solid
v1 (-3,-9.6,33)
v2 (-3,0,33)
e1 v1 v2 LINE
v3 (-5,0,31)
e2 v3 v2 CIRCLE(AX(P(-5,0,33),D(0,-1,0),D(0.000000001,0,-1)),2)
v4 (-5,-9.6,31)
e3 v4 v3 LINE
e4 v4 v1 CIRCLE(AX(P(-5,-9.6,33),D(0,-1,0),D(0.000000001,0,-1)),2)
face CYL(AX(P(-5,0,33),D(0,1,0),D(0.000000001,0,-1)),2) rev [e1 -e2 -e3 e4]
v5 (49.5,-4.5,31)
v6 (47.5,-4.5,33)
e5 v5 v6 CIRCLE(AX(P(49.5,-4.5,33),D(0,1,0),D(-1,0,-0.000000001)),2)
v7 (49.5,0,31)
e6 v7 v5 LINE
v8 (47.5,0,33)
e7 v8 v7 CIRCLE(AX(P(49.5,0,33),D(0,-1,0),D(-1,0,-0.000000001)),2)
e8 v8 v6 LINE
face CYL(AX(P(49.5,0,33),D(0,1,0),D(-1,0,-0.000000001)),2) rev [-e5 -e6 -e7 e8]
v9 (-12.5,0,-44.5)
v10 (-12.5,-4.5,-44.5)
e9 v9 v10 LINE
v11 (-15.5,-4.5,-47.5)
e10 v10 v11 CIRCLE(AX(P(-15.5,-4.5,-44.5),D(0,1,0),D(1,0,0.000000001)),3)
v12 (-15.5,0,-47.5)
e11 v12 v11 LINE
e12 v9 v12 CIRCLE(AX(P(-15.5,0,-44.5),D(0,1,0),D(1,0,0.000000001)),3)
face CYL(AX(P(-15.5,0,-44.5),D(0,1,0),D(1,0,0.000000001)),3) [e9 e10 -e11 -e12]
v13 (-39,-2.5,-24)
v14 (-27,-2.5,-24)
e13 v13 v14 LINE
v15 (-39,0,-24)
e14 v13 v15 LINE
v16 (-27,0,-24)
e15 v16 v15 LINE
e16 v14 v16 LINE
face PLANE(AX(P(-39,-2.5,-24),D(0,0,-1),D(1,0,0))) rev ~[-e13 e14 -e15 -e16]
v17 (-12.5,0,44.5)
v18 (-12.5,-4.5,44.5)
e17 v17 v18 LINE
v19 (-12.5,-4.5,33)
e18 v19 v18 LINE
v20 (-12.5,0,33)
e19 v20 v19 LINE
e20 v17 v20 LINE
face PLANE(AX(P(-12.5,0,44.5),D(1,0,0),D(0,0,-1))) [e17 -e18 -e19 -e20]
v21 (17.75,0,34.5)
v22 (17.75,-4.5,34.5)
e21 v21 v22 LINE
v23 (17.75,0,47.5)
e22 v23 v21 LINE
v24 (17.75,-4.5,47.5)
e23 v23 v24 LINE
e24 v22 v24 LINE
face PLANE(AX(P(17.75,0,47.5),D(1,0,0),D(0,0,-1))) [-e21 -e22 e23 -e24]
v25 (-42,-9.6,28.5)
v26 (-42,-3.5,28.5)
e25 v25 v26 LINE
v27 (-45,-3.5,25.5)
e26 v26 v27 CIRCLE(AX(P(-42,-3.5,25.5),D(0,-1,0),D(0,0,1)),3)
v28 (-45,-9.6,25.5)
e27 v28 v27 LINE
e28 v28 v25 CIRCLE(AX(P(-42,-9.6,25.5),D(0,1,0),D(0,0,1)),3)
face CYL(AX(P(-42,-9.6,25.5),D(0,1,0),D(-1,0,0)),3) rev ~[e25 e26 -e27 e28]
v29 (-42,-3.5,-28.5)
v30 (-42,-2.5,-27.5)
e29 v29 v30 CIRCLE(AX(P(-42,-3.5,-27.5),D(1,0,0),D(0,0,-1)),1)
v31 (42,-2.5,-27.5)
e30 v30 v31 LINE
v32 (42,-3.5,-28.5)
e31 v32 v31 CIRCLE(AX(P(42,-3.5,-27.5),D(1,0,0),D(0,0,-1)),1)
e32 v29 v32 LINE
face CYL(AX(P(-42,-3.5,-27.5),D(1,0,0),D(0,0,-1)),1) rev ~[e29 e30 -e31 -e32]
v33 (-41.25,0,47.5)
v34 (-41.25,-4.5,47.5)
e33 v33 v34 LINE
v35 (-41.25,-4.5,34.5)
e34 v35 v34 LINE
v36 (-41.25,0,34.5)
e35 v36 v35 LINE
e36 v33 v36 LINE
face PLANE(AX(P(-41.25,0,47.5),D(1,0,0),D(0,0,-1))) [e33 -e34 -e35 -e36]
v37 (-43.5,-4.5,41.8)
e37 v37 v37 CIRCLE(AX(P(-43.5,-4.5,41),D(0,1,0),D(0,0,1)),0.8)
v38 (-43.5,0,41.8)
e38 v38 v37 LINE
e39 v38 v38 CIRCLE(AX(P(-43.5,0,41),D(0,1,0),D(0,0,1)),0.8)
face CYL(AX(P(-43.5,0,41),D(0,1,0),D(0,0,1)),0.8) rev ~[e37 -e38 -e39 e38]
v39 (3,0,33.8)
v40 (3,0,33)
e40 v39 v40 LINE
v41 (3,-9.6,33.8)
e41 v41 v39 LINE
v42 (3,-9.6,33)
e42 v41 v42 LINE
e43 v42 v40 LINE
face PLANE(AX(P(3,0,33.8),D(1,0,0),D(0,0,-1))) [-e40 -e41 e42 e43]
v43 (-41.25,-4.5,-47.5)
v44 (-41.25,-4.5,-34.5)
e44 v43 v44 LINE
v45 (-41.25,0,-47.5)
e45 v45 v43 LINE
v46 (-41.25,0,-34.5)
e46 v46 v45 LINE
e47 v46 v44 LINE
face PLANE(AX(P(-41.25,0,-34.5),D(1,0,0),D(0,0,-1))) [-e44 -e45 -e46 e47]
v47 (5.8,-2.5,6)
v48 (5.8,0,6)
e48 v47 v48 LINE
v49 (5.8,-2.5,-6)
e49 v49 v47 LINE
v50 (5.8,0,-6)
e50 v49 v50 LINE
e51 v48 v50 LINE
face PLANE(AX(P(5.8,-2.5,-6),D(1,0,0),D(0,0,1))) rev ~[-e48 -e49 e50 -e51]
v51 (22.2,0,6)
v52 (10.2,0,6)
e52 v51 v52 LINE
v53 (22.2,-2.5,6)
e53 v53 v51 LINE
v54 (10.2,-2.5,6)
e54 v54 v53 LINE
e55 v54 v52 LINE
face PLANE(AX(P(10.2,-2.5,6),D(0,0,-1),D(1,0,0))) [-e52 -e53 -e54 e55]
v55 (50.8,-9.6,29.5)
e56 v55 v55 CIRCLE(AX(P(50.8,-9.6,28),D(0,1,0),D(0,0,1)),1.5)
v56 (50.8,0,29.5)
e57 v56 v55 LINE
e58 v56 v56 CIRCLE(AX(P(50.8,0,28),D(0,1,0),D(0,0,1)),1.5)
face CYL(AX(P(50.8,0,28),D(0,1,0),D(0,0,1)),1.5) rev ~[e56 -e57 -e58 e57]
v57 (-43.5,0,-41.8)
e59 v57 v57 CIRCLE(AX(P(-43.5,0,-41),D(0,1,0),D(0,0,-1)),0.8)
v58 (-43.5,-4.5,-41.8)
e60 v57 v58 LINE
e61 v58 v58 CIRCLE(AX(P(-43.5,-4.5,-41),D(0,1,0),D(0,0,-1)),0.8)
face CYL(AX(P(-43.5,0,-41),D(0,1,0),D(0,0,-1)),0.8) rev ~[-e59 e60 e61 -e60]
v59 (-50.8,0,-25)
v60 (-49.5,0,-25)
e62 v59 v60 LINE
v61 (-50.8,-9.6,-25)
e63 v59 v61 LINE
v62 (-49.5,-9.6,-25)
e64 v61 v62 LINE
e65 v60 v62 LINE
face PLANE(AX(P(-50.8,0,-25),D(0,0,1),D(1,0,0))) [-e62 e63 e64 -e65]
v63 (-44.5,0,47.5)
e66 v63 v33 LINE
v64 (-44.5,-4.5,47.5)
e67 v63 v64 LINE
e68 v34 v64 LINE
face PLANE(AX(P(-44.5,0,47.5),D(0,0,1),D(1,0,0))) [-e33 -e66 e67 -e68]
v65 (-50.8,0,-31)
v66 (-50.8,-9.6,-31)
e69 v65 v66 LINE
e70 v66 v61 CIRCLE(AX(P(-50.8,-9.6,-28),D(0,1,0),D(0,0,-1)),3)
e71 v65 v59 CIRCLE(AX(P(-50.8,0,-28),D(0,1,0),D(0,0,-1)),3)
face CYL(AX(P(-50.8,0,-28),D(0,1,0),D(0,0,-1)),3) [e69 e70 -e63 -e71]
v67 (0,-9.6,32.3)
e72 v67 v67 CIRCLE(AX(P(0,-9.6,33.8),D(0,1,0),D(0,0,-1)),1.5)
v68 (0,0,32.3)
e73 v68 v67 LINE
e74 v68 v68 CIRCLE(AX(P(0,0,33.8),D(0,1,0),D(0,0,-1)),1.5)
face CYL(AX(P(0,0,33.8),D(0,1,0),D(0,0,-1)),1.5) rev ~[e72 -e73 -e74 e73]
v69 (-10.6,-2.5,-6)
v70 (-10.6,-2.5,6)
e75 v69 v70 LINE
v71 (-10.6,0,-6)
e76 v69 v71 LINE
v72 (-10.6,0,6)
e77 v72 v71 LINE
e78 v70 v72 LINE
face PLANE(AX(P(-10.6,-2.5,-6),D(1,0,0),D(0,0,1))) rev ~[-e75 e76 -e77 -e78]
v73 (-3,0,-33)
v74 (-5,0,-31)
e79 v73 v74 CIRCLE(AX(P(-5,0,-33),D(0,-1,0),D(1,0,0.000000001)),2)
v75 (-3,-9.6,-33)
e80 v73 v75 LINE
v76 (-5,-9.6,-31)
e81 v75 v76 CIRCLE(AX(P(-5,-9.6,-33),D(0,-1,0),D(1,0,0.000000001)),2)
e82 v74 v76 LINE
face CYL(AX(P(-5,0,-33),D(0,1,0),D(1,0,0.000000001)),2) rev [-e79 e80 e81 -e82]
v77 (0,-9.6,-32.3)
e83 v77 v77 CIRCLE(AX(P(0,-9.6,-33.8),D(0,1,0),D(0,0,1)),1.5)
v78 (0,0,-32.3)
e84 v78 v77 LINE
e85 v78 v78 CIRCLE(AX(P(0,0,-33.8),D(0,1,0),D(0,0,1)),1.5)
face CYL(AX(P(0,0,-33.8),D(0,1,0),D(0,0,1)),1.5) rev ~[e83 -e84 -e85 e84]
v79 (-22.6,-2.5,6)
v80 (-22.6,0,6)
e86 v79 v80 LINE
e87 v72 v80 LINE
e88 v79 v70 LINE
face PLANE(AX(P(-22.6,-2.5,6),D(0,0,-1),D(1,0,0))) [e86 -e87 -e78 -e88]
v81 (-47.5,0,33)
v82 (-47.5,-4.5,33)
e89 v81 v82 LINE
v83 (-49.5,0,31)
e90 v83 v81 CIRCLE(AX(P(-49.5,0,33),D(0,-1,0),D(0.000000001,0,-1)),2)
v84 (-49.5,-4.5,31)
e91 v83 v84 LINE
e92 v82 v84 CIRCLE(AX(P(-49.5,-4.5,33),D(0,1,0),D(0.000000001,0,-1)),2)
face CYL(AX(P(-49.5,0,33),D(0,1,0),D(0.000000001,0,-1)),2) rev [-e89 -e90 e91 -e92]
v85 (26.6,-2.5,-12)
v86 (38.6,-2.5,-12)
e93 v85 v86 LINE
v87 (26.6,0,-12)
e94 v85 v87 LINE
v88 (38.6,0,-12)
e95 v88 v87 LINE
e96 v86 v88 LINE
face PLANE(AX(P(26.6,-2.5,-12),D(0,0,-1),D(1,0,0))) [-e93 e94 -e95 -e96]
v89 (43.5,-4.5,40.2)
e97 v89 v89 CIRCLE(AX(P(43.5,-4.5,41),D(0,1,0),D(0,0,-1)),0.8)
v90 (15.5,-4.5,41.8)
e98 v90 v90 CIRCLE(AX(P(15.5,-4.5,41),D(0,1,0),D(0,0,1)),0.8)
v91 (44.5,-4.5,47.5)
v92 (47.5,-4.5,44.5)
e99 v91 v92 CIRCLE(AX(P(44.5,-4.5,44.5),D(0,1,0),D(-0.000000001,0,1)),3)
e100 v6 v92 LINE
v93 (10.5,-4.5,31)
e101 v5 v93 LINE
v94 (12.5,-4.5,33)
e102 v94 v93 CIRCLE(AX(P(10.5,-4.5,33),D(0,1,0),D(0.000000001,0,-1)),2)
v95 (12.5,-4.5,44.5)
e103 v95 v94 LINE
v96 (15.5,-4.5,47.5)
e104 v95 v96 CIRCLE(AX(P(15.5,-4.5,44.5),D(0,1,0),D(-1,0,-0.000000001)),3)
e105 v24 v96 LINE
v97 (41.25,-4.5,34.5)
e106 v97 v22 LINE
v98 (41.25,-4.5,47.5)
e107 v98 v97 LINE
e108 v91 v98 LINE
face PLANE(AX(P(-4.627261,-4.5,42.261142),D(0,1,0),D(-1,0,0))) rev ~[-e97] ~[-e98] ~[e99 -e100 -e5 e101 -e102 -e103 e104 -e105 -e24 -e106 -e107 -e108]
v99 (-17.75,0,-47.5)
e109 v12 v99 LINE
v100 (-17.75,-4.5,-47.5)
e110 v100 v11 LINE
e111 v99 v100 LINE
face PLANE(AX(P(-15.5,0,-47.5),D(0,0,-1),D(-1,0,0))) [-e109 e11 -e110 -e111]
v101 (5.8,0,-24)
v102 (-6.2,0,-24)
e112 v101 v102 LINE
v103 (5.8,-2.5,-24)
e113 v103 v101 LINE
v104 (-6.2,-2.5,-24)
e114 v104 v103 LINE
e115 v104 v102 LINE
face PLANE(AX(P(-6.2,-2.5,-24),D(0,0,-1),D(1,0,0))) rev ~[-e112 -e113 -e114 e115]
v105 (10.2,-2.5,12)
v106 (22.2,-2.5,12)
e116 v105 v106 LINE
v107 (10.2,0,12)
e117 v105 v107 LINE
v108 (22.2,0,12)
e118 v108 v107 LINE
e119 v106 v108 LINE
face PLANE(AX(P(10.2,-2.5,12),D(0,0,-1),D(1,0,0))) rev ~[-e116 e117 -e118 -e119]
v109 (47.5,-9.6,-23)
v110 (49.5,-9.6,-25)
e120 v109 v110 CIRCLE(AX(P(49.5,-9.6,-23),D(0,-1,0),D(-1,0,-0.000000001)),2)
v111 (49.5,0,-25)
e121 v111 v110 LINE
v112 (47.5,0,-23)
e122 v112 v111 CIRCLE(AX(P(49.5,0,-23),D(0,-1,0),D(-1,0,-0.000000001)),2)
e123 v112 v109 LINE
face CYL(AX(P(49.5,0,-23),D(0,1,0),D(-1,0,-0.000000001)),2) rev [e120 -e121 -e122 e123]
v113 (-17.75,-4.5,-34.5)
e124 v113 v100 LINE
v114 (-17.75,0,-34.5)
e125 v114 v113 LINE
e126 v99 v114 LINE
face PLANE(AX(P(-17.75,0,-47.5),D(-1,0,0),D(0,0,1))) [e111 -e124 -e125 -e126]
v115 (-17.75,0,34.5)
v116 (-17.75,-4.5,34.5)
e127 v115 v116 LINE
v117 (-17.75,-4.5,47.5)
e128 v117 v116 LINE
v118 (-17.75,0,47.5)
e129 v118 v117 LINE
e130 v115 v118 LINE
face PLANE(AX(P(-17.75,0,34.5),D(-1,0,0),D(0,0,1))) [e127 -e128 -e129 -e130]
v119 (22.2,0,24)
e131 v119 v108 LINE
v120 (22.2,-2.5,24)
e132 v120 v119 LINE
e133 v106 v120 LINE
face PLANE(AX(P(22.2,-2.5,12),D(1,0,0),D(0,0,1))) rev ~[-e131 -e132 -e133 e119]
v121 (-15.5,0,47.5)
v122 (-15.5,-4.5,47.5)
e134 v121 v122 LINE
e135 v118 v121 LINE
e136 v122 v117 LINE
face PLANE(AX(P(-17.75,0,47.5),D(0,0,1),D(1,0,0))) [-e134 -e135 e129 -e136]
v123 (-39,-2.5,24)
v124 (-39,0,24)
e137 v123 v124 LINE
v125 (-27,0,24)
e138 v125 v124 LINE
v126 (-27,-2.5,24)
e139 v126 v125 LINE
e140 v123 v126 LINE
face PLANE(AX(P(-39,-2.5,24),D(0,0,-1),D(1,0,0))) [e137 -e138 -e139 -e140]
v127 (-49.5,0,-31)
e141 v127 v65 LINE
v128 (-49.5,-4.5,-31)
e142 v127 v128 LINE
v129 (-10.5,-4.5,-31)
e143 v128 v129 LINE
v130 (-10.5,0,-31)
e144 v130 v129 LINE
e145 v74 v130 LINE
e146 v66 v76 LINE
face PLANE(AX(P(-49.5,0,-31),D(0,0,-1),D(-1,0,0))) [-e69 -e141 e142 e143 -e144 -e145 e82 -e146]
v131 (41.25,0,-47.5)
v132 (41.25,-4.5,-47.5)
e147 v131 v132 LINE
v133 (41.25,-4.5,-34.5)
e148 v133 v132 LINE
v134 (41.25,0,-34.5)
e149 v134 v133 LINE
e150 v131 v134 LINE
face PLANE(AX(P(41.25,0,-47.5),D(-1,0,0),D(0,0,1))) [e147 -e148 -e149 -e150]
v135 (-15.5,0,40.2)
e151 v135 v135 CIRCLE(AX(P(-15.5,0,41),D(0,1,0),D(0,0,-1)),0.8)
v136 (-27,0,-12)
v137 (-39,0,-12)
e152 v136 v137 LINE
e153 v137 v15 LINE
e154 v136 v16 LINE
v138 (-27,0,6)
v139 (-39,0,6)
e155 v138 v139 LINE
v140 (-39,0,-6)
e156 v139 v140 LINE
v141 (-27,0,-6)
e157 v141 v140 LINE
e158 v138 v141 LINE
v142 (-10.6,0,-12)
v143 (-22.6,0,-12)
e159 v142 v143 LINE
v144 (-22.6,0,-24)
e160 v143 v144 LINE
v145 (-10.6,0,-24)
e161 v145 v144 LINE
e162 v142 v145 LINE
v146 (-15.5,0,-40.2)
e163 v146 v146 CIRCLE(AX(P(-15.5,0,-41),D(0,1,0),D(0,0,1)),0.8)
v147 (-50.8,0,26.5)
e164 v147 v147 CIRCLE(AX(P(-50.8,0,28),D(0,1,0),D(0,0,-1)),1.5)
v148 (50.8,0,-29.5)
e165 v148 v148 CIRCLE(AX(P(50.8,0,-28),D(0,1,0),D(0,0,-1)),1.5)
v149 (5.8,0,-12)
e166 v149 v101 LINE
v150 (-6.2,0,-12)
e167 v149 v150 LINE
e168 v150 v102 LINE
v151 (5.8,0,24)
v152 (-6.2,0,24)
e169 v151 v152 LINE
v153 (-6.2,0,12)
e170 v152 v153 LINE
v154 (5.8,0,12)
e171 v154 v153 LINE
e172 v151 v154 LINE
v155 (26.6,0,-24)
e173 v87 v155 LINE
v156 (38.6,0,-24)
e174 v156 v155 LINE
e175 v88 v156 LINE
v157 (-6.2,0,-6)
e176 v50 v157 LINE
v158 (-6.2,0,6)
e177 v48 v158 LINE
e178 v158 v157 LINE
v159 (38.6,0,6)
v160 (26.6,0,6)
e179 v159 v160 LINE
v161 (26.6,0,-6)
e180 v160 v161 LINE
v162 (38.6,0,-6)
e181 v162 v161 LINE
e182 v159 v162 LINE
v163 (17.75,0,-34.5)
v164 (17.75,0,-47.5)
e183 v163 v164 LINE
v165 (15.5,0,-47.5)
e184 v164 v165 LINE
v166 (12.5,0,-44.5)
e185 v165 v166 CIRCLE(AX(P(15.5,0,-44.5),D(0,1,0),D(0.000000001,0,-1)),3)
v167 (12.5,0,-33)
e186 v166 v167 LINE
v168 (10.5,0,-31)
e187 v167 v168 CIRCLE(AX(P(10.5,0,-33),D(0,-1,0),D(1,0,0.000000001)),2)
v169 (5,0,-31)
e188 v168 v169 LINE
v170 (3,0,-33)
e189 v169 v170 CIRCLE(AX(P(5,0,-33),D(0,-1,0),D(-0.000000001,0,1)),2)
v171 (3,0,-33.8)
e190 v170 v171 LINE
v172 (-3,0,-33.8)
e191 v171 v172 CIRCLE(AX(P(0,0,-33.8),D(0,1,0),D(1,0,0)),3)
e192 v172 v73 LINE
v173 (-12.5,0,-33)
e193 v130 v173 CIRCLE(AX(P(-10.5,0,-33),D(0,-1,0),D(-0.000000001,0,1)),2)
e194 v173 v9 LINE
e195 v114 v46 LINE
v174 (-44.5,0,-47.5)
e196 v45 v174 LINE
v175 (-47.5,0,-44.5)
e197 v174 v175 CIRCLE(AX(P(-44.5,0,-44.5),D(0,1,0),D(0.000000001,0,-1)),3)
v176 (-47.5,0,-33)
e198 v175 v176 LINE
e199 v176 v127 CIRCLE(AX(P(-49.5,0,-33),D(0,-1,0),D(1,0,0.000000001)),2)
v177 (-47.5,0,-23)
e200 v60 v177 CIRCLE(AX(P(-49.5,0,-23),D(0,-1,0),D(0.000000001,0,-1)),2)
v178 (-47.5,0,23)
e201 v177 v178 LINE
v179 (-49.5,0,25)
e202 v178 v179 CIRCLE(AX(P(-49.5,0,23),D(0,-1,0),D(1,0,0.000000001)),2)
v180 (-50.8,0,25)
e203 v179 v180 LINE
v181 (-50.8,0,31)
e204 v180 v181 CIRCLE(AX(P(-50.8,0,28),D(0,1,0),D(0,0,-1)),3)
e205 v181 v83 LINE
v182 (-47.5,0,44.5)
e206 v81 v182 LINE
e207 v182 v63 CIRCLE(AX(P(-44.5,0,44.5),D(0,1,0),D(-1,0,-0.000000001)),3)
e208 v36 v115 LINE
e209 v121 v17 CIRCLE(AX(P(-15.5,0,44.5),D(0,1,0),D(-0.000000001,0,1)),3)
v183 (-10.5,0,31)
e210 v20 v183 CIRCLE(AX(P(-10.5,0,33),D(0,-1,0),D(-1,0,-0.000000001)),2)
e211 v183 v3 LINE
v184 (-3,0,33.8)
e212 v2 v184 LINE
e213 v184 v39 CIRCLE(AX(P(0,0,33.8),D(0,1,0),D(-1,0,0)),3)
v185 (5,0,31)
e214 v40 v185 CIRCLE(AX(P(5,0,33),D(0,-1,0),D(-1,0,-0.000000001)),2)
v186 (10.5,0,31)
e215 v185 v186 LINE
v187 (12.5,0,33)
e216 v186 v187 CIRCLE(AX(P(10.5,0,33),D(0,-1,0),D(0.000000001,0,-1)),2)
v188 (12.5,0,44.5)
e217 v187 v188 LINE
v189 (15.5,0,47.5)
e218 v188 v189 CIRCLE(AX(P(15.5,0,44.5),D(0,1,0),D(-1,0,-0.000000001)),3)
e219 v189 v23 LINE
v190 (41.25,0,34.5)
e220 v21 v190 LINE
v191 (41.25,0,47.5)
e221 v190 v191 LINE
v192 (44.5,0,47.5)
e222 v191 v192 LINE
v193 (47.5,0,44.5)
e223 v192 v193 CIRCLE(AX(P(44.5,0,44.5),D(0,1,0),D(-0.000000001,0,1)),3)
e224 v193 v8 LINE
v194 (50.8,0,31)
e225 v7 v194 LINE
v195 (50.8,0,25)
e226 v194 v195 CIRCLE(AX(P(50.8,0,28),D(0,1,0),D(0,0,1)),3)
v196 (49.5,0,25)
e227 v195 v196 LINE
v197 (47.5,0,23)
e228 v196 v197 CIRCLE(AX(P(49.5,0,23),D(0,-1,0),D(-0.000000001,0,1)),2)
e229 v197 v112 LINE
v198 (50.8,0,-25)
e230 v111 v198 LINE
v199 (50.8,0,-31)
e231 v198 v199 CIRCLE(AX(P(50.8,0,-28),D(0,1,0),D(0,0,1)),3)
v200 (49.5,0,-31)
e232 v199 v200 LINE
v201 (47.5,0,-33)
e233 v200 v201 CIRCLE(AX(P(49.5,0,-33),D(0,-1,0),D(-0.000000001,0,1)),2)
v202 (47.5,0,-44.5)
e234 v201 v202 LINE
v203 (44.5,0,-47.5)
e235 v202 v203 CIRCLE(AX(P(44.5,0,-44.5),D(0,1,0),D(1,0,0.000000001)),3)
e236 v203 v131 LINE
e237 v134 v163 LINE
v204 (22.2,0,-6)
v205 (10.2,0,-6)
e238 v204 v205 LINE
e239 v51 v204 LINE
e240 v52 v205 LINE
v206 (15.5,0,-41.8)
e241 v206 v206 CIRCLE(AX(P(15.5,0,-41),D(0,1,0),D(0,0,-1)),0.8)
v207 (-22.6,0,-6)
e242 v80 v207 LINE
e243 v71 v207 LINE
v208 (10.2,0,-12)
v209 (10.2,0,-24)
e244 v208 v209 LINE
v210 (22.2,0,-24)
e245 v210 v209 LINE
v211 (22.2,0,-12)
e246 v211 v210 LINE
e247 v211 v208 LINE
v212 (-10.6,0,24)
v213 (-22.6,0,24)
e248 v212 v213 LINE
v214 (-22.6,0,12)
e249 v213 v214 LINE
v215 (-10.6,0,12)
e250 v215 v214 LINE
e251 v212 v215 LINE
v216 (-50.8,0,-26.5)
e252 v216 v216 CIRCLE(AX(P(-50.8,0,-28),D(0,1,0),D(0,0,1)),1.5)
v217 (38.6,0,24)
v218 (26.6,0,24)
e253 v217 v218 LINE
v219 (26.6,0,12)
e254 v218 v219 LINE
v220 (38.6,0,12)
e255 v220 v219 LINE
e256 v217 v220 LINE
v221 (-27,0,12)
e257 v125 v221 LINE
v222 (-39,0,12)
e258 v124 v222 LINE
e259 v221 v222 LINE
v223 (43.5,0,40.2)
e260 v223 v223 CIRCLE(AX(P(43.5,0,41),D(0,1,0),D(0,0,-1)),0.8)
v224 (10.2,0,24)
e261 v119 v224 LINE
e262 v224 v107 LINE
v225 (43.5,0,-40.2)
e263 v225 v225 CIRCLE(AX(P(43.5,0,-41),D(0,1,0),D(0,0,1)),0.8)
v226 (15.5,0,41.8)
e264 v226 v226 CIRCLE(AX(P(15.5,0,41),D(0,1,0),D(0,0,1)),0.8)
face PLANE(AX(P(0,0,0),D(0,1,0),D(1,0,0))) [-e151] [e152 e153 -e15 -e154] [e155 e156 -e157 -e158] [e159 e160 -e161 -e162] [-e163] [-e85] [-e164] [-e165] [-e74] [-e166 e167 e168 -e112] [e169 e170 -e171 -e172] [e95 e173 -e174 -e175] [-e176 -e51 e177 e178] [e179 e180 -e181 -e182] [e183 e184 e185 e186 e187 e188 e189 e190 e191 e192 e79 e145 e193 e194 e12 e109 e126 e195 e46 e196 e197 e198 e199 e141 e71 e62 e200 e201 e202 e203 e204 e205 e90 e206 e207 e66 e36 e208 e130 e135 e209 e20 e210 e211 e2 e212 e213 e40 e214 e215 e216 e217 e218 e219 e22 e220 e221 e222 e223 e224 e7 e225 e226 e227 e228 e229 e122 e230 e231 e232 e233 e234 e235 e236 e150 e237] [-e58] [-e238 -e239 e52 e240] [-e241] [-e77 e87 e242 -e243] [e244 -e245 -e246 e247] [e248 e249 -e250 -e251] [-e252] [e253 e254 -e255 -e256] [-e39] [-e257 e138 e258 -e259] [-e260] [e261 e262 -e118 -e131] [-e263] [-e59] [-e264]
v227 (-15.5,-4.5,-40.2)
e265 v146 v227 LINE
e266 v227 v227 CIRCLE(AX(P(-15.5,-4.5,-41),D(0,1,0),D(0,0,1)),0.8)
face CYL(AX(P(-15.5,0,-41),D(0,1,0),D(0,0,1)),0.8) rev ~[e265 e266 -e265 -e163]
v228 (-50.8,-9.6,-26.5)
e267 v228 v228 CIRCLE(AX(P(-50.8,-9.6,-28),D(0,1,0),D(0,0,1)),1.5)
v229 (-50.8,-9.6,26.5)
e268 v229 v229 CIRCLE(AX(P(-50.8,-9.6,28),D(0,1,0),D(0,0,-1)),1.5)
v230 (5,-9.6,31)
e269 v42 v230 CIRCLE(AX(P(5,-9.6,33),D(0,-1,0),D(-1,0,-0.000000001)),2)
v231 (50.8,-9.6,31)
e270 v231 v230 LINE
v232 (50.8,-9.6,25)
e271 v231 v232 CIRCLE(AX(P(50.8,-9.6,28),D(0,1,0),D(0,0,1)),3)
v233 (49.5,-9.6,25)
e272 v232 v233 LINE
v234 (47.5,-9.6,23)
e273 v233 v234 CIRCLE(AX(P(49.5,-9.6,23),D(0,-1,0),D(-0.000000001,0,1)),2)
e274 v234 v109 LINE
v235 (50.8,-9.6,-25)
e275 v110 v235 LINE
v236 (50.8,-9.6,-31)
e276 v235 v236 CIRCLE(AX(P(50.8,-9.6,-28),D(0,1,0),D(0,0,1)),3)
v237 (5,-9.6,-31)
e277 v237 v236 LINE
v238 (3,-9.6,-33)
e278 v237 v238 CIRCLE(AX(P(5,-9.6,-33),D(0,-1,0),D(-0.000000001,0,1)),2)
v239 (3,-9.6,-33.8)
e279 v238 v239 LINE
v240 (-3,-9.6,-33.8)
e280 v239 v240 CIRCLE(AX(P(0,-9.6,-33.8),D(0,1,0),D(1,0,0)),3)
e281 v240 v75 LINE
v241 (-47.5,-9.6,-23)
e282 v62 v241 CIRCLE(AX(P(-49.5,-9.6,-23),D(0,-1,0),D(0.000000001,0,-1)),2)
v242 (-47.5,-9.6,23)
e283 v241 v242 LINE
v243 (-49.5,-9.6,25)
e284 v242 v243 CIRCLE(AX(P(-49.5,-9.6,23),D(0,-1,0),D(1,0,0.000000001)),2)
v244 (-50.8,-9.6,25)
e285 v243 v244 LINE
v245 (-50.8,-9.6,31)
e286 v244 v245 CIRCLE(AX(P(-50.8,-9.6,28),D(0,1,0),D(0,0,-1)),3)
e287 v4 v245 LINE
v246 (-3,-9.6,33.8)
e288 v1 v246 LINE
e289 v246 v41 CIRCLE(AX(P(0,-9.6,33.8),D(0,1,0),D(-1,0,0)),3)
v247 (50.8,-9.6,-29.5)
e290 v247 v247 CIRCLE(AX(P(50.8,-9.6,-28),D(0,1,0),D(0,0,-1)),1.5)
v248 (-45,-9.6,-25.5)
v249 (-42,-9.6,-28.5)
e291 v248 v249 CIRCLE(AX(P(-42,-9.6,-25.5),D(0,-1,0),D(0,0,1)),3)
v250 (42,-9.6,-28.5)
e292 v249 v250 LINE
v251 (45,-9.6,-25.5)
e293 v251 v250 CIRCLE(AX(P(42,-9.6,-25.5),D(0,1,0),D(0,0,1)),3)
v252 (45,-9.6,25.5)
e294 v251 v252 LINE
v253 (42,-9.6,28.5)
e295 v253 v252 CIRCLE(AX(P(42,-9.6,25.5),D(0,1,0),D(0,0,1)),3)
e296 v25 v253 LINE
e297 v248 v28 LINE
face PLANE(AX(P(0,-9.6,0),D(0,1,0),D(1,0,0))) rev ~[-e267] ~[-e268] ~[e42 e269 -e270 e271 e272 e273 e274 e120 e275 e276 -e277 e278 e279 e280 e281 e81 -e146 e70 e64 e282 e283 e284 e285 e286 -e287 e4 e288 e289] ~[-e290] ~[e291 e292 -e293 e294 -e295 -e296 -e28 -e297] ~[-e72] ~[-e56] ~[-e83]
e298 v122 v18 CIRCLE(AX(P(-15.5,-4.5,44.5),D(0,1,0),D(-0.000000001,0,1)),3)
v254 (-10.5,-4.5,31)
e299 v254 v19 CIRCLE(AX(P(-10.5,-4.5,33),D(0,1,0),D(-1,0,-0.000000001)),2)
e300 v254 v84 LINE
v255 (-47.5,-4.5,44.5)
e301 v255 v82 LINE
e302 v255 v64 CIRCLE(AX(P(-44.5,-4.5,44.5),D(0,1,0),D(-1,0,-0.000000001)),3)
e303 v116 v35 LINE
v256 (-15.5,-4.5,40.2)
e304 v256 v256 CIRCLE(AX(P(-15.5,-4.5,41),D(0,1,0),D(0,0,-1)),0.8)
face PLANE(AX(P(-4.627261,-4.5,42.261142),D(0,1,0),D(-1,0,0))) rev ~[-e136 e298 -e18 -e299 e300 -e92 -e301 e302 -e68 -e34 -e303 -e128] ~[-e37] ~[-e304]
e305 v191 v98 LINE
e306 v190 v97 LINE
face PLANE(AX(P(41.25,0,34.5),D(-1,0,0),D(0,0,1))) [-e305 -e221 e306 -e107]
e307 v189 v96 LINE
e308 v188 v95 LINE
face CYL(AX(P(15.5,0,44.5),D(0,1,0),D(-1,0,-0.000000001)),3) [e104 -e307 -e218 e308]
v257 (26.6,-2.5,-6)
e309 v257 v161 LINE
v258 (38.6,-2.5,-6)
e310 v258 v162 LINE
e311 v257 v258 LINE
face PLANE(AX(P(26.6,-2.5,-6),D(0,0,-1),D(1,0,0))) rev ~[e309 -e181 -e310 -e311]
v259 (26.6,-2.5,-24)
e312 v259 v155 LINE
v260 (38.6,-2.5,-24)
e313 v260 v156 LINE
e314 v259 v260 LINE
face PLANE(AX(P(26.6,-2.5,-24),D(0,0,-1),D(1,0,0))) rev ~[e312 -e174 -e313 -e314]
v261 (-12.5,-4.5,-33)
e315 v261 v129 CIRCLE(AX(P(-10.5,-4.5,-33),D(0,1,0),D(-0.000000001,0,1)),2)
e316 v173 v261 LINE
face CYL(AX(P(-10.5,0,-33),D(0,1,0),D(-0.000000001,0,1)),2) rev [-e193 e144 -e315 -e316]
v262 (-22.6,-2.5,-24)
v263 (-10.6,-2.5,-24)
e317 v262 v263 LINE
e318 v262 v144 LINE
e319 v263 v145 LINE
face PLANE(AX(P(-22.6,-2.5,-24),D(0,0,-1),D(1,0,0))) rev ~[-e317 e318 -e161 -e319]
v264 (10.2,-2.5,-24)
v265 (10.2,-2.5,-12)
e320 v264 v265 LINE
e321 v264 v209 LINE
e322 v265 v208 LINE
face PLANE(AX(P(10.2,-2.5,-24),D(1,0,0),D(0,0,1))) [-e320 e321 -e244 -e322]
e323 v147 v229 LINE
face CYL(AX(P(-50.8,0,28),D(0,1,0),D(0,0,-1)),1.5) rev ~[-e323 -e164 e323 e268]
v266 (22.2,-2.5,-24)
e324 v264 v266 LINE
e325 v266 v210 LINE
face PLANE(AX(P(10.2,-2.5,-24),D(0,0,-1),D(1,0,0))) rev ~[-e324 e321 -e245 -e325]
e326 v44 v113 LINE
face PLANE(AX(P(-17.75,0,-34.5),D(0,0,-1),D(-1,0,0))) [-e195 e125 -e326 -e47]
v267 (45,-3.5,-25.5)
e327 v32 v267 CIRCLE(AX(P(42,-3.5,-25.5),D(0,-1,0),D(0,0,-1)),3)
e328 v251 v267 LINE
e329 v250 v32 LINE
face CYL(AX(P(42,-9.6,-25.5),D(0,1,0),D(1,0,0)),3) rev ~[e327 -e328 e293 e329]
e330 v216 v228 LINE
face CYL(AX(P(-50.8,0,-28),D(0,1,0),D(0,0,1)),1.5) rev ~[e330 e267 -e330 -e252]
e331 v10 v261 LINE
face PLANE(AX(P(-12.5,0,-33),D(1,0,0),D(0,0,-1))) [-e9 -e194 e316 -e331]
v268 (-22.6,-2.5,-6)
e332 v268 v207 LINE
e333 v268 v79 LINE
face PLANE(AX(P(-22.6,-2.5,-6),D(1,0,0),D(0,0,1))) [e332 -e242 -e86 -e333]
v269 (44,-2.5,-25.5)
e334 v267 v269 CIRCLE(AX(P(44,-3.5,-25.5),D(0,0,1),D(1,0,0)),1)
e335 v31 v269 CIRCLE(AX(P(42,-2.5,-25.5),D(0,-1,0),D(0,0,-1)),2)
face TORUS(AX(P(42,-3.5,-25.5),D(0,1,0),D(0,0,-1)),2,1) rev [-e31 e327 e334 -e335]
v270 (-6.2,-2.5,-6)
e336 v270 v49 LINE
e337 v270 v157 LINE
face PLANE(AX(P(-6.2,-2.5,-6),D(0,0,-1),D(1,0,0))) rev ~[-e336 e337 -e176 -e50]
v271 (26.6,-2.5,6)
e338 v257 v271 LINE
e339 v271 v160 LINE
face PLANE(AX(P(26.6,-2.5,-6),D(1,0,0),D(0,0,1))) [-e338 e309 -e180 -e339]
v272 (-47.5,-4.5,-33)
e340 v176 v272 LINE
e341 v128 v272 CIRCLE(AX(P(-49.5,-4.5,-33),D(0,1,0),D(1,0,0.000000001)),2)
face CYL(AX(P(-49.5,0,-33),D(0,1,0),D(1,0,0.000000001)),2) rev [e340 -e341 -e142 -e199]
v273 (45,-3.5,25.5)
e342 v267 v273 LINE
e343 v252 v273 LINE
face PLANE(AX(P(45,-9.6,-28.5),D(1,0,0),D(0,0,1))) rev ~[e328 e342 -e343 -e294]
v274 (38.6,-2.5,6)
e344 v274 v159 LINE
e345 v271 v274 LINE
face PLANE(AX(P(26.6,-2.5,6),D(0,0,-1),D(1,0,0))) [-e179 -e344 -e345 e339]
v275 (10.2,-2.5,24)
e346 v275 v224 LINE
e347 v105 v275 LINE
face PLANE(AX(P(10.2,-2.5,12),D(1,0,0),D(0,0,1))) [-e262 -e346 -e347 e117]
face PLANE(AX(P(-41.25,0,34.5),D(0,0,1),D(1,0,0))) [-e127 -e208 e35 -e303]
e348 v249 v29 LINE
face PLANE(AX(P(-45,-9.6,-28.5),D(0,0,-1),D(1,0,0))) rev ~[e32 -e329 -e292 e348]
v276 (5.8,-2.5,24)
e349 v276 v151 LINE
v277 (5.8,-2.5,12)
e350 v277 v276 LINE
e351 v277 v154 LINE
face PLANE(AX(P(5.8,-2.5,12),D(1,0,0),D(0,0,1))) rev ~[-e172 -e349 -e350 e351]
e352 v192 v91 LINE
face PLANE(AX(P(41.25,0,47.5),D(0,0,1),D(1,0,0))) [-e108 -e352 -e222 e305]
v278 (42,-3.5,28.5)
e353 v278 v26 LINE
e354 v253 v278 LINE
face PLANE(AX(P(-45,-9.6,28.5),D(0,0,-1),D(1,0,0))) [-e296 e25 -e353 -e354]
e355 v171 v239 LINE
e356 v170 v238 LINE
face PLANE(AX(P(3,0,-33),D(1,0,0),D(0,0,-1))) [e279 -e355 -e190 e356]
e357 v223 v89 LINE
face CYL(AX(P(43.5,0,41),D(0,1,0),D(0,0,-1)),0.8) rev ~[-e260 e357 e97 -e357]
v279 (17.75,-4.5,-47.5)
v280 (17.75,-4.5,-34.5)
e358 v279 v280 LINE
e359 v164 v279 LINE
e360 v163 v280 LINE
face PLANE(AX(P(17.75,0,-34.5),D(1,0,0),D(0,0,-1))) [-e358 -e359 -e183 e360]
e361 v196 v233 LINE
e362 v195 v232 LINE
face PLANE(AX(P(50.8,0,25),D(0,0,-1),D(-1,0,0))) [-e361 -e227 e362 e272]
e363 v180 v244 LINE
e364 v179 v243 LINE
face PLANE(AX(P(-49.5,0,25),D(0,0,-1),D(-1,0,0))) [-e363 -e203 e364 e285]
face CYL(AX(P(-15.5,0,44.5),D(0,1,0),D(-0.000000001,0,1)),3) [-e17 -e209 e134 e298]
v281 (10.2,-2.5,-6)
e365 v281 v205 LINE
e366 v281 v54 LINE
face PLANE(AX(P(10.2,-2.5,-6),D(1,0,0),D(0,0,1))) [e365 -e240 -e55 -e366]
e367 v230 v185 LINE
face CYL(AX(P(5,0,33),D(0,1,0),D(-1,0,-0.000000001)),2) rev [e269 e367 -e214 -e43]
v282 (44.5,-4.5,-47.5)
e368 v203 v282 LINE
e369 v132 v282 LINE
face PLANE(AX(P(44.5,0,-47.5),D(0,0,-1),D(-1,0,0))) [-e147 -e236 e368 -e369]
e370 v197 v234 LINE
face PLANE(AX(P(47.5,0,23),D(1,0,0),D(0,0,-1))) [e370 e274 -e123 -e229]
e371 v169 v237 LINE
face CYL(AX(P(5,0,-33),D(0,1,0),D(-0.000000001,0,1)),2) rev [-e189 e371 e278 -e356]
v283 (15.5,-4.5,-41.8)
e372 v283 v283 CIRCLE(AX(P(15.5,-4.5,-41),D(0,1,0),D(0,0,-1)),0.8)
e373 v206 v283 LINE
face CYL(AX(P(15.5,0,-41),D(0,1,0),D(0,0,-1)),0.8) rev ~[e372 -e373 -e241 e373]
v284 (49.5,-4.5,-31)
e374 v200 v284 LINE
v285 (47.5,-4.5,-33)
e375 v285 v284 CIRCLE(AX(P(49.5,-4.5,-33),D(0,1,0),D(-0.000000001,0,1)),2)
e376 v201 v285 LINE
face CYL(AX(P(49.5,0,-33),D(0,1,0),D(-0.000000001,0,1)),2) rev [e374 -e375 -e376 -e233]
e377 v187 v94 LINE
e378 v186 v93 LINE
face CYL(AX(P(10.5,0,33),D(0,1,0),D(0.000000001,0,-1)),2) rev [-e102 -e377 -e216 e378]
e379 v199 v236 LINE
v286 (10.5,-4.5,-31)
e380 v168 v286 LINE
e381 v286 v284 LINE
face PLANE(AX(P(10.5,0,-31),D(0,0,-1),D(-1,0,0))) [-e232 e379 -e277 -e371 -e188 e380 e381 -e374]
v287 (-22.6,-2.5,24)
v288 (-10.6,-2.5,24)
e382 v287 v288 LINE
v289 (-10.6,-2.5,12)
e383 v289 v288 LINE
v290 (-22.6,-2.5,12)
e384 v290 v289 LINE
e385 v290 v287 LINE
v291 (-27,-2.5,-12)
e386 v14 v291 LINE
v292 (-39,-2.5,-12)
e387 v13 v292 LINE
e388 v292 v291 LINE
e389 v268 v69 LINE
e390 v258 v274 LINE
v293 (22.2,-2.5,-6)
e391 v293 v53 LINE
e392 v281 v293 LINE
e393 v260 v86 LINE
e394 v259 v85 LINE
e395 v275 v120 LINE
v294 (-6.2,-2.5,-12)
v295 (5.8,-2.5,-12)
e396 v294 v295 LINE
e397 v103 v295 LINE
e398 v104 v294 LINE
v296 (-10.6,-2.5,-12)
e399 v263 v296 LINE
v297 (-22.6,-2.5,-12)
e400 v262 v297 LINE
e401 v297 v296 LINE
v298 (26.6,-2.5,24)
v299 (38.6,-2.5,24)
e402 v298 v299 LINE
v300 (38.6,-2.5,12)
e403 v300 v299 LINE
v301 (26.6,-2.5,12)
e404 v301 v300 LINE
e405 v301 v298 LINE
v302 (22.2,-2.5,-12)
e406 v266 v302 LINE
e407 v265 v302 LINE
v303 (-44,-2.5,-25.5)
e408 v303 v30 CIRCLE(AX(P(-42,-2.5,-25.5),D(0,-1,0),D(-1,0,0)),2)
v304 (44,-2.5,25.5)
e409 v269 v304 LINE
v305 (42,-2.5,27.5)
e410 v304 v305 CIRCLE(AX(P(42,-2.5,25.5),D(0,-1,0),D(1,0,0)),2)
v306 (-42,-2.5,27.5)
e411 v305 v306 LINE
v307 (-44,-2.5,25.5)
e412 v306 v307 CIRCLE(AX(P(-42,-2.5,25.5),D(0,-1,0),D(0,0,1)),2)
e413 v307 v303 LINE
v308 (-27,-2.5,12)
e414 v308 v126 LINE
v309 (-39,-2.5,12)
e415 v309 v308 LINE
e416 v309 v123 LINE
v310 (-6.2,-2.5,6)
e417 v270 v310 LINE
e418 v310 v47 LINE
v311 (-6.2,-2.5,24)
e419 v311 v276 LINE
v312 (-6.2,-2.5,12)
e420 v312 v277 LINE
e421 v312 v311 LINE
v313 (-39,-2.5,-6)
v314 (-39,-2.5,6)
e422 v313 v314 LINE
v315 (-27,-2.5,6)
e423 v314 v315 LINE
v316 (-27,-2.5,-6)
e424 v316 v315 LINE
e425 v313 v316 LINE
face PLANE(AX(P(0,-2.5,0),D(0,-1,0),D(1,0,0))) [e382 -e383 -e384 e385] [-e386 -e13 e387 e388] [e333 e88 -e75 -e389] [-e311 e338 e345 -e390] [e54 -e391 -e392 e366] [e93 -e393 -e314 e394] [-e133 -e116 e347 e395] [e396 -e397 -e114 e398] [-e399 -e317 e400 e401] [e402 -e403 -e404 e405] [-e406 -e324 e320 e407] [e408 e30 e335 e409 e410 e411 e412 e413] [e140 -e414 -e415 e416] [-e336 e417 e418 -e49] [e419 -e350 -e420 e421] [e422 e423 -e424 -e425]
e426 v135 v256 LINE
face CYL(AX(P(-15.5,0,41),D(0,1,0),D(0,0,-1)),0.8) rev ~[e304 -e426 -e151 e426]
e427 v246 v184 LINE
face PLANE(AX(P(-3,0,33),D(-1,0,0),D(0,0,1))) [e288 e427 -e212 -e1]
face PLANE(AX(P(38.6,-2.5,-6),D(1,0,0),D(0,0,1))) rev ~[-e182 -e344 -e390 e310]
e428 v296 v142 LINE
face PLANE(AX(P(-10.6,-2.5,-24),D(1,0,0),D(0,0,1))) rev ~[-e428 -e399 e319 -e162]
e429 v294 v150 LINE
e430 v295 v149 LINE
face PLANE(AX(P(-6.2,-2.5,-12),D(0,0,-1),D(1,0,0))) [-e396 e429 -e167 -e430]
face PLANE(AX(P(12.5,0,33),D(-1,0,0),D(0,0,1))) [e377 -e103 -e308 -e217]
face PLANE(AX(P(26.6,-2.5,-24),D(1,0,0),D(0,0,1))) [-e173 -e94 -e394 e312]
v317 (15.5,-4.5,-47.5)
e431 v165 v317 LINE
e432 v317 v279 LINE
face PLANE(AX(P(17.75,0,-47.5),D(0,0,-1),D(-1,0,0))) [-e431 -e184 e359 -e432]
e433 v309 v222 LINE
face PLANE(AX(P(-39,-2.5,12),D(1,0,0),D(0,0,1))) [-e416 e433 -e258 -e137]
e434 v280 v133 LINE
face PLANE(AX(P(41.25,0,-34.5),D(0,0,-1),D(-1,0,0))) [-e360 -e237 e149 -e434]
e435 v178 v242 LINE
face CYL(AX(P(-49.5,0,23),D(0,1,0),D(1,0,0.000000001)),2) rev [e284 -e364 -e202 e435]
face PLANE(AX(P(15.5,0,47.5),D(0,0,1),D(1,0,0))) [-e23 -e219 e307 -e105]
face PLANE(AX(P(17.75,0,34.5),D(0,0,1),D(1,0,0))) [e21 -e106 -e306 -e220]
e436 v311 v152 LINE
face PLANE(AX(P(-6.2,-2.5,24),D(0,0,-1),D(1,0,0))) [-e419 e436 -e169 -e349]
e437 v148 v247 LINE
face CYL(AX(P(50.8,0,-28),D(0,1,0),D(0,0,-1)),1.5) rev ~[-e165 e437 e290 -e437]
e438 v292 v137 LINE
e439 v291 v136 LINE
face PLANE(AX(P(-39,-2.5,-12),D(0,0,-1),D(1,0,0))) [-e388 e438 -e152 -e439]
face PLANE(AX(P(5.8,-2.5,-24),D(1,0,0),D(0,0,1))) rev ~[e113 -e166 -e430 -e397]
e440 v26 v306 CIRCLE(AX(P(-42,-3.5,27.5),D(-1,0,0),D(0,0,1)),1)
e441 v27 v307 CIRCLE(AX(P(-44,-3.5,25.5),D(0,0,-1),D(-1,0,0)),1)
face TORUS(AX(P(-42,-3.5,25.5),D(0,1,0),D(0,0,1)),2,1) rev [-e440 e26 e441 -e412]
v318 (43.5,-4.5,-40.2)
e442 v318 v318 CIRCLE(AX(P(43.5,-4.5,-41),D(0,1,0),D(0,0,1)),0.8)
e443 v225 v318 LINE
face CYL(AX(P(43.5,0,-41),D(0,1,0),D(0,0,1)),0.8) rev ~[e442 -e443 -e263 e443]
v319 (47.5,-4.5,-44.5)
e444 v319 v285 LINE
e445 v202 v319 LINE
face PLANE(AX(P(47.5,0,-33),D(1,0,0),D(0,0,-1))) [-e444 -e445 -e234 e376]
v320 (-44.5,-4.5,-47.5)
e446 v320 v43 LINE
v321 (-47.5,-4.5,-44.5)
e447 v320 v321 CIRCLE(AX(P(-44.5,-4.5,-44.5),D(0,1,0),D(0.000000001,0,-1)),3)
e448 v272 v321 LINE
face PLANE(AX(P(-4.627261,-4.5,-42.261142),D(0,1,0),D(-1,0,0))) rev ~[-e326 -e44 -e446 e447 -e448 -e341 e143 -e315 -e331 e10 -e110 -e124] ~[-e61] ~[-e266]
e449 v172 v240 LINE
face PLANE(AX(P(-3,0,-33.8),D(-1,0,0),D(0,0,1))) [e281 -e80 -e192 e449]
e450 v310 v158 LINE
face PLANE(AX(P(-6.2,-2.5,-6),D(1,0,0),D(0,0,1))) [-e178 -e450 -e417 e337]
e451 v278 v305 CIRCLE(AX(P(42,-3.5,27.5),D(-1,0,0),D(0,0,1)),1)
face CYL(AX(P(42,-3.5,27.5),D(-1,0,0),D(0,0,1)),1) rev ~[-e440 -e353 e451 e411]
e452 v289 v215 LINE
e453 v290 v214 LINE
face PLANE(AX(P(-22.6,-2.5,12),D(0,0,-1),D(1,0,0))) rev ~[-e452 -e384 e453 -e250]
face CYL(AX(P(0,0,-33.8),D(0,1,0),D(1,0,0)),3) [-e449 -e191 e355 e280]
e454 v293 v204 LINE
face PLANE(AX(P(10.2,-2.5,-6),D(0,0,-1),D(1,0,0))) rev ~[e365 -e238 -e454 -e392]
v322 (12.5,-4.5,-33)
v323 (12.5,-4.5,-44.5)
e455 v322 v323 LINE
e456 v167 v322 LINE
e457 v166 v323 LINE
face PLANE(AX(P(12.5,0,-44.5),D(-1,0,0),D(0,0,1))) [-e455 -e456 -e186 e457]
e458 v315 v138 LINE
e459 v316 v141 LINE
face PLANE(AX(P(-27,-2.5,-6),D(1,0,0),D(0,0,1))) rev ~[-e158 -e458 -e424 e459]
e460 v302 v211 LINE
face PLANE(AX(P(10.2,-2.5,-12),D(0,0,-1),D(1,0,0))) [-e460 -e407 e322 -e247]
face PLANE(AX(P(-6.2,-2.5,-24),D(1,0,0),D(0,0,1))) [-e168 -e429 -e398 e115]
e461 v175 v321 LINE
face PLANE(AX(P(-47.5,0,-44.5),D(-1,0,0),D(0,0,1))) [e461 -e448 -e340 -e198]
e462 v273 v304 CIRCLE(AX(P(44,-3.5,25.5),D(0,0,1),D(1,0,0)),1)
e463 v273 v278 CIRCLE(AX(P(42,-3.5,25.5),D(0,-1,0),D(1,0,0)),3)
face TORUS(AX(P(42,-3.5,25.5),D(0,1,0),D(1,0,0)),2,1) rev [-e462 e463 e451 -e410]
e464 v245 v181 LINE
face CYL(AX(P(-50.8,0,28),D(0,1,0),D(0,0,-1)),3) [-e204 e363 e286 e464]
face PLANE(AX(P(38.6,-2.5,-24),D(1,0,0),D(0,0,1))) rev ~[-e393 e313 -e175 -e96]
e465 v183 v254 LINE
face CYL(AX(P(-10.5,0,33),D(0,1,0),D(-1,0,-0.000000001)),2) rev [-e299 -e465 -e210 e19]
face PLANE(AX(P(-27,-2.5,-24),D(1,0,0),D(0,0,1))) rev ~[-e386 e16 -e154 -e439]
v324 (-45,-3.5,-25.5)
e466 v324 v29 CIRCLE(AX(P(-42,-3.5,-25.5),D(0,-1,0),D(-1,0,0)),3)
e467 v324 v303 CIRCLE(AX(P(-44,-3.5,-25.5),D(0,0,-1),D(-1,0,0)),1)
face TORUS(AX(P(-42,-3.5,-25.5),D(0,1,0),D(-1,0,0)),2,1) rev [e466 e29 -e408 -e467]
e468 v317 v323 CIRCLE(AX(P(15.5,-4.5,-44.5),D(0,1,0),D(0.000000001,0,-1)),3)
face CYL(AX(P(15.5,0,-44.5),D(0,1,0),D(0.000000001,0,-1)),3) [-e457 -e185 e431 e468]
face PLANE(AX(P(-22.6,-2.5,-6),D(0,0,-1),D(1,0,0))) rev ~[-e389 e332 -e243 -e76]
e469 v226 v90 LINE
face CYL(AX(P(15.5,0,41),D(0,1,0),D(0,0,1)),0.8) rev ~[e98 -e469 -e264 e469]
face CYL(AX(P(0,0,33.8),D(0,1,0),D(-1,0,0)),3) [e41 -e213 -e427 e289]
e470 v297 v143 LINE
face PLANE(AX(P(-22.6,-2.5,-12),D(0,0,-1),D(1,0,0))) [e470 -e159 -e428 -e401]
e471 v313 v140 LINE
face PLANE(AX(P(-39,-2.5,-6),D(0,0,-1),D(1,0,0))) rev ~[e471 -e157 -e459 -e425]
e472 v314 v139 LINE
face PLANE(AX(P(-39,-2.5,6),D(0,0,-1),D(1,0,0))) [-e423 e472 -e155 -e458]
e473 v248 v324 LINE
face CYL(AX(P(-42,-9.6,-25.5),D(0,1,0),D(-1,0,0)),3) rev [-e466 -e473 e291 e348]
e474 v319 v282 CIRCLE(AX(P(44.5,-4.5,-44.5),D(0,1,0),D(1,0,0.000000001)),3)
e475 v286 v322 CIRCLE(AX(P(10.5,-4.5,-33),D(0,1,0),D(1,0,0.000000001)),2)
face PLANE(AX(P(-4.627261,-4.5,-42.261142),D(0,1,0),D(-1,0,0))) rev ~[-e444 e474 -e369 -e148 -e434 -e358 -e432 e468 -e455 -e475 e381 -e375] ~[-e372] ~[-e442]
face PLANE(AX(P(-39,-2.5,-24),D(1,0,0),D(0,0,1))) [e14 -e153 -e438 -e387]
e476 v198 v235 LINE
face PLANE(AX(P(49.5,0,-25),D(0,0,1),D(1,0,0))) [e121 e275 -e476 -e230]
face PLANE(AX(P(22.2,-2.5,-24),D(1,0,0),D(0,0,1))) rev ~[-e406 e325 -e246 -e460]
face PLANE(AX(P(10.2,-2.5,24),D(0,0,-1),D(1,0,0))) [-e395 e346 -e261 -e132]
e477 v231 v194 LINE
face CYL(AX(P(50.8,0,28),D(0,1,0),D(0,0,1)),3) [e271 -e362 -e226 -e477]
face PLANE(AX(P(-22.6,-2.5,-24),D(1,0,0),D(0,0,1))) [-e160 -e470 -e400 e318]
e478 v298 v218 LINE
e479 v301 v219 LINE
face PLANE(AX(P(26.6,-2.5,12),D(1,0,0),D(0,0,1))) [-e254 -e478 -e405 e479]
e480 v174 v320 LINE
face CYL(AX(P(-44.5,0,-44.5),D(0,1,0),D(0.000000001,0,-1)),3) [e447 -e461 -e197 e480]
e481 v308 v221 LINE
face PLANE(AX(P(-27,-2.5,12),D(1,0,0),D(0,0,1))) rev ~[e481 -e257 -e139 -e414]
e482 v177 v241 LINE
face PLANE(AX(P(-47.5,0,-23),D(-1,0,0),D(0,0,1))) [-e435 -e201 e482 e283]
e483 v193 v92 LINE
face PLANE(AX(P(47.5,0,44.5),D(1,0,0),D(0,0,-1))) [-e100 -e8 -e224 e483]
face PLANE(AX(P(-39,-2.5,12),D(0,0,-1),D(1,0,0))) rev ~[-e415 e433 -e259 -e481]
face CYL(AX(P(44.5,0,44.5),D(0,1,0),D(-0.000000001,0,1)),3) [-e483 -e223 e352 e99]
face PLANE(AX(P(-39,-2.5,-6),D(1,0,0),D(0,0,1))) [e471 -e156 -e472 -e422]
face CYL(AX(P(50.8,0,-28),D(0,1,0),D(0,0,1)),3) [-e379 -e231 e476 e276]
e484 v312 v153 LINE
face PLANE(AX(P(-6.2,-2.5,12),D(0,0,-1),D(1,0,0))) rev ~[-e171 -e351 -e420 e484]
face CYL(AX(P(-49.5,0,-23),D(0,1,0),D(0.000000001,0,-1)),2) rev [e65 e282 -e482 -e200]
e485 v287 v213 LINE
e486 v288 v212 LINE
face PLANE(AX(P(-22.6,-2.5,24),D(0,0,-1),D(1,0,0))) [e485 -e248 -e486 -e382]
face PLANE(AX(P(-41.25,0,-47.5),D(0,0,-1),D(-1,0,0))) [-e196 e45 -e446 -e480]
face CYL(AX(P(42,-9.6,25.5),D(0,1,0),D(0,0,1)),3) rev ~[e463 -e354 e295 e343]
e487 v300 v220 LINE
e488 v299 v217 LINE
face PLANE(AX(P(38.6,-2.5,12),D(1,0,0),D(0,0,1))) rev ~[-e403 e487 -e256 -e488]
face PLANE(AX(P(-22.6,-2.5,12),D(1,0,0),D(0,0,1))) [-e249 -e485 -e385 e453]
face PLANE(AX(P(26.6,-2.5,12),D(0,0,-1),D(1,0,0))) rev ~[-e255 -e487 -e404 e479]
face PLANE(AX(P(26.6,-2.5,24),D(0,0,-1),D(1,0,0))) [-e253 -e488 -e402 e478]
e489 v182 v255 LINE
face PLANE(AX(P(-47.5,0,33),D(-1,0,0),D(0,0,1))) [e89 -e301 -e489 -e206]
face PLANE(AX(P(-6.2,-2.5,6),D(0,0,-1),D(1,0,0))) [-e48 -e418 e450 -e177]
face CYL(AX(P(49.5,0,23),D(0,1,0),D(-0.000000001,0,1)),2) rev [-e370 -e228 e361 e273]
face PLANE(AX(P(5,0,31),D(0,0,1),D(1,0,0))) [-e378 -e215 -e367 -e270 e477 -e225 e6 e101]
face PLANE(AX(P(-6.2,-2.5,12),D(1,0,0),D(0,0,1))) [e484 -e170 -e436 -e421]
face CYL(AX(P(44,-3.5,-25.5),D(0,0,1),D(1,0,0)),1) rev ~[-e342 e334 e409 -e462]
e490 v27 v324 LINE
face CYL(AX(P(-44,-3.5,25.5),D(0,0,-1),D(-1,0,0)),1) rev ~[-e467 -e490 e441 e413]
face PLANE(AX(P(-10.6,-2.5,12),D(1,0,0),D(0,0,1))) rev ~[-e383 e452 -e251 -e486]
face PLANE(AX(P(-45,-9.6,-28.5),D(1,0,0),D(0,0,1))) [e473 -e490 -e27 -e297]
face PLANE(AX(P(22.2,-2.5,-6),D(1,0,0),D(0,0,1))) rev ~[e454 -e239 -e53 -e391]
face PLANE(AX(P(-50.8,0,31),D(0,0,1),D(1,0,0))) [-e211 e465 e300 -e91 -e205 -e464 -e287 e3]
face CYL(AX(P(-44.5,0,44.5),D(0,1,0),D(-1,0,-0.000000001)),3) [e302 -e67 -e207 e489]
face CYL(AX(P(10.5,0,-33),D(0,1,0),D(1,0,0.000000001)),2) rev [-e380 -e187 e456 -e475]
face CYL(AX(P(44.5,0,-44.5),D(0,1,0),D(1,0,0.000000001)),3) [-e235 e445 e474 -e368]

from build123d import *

# Parameters (mm, degrees)
SKETCH_1_R          = 1.5
SKETCH_1_R_2        = 0.8
EXTRUDE_1_DEPTH     = 9.6
CUT_EXTRUDE_START   = -5.1
CUT_EXTRUDE_1_DEPTH = 5.1
SKETCH_3_W          = 90
SKETCH_3_H          = 57
CUT_EXTRUDE_2_DEPTH = 7.1
FILLET_1_R          = 3
FILLET_2_R          = 1
SKETCH_13_W         = 12
SKETCH_13_H         = 12
CUT_EXTRUDE_3_DEPTH = 73.118652234


with BuildPart() as part:
    # 草图1 → 凸台-拉伸1 (new body)
    with BuildSketch(Plane(origin=(0, 0, 0), x_dir=(1, 0, 0), z_dir=(0, 1, 0))):
        with BuildLine():
            Line((-47.5, 23), (-47.5, -23))
            ThreePointArc((-47.5, -23), (-48.085786438, -24.414213562), (-49.5, -25))
            Line((-49.5, -25), (-50.8, -25))
            ThreePointArc((-50.8, -25), (-53.8, -28), (-50.8, -31))
            Line((-50.8, -31), (-49.5, -31))
            ThreePointArc((-49.5, -31), (-48.085786438, -31.585786438), (-47.5, -33))
            Line((-47.5, -33), (-47.5, -44.5))
            ThreePointArc((-47.5, -44.5), (-46.621320344, -46.621320344), (-44.5, -47.5))
            Line((-44.5, -47.5), (-41.25, -47.5))
            Line((-41.25, -47.5), (-41.25, -34.5))
            Line((-41.25, -34.5), (-17.75, -34.5))
            Line((-17.75, -34.5), (-17.75, -47.5))
            Line((-17.75, -47.5), (-15.5, -47.5))
            ThreePointArc((-15.5, -47.5), (-13.378679656, -46.621320344), (-12.5, -44.5))
            Line((-12.5, -44.5), (-12.5, -33))
            ThreePointArc((-12.5, -33), (-11.914213562, -31.585786438), (-10.5, -31))
            Line((-10.5, -31), (-5, -31))
            ThreePointArc((-5, -31), (-3.585786438, -31.585786438), (-3, -33))
            Line((-3, -33), (-3, -33.8))
            ThreePointArc((-3, -33.8), (0, -36.8), (3, -33.8))
            Line((3, -33.8), (3, -33))
            ThreePointArc((3, -33), (3.585786438, -31.585786438), (5, -31))
            Line((5, -31), (10.5, -31))
            ThreePointArc((10.5, -31), (11.914213562, -31.585786438), (12.5, -33))
            Line((12.5, -33), (12.5, -44.5))
            ThreePointArc((12.5, -44.5), (13.378679656, -46.621320344), (15.5, -47.5))
            Line((15.5, -47.5), (17.75, -47.5))
            Line((17.75, -47.5), (17.75, -34.5))
            Line((17.75, -34.5), (41.25, -34.5))
            Line((41.25, -34.5), (41.25, -47.5))
            Line((41.25, -47.5), (44.5, -47.5))
            ThreePointArc((44.5, -47.5), (46.621320344, -46.621320344), (47.5, -44.5))
            Line((47.5, -44.5), (47.5, -33))
            ThreePointArc((47.5, -33), (48.085786438, -31.585786438), (49.5, -31))
            Line((49.5, -31), (50.8, -31))
            ThreePointArc((50.8, -31), (53.8, -28), (50.8, -25))
            Line((50.8, -25), (49.5, -25))
            ThreePointArc((49.5, -25), (48.085786438, -24.414213562), (47.5, -23))
            Line((47.5, -23), (47.5, 23))
            ThreePointArc((47.5, 23), (48.085786438, 24.414213562), (49.5, 25))
            Line((49.5, 25), (50.8, 25))
            ThreePointArc((50.8, 25), (53.8, 28), (50.8, 31))
            Line((50.8, 31), (49.5, 31))
            ThreePointArc((49.5, 31), (48.085786438, 31.585786438), (47.5, 33))
            Line((47.5, 33), (47.5, 44.5))
            ThreePointArc((47.5, 44.5), (46.621320344, 46.621320344), (44.5, 47.5))
            Line((44.5, 47.5), (41.25, 47.5))
            Line((41.25, 47.5), (41.25, 34.5))
            Line((41.25, 34.5), (17.75, 34.5))
            Line((17.75, 34.5), (17.75, 47.5))
            Line((17.75, 47.5), (15.5, 47.5))
            ThreePointArc((15.5, 47.5), (13.378679656, 46.621320344), (12.5, 44.5))
            Line((12.5, 44.5), (12.5, 33))
            ThreePointArc((12.5, 33), (11.914213562, 31.585786438), (10.5, 31))
            Line((10.5, 31), (5, 31))
            ThreePointArc((5, 31), (3.585786438, 31.585786438), (3, 33))
            Line((3, 33), (3, 33.8))
            ThreePointArc((3, 33.8), (0, 36.8), (-3, 33.8))
            Line((-3, 33.8), (-3, 33))
            ThreePointArc((-3, 33), (-3.585786438, 31.585786438), (-5, 31))
            Line((-5, 31), (-10.5, 31))
            ThreePointArc((-10.5, 31), (-11.914213562, 31.585786438), (-12.5, 33))
            Line((-12.5, 33), (-12.5, 44.5))
            ThreePointArc((-12.5, 44.5), (-13.378679656, 46.621320344), (-15.5, 47.5))
            Line((-15.5, 47.5), (-17.75, 47.5))
            Line((-17.75, 47.5), (-17.75, 34.5))
            Line((-17.75, 34.5), (-41.25, 34.5))
            Line((-41.25, 34.5), (-41.25, 47.5))
            Line((-41.25, 47.5), (-44.5, 47.5))
            ThreePointArc((-44.5, 47.5), (-46.621320344, 46.621320344), (-47.5, 44.5))
            Line((-47.5, 44.5), (-47.5, 33))
            ThreePointArc((-47.5, 33), (-48.085786438, 31.585786438), (-49.5, 31))
            Line((-49.5, 31), (-50.8, 31))
            ThreePointArc((-50.8, 31), (-53.8, 28), (-50.8, 25))
            Line((-50.8, 25), (-49.5, 25))
            ThreePointArc((-49.5, 25), (-48.085786438, 24.414213562), (-47.5, 23))
        make_face()
        with Locations(Location((-50.8, 28, 0), (0, 0, 270))):
            Circle(SKETCH_1_R, mode=Mode.SUBTRACT)
        with Locations(Location((50.8, 28, 0), (0, 0, 90))):
            Circle(SKETCH_1_R, mode=Mode.SUBTRACT)
        with Locations(Location((50.8, -28, 0), (0, 0, 270))):
            Circle(SKETCH_1_R, mode=Mode.SUBTRACT)
        with Locations(Location((-50.8, -28, 0), (0, 0, 90))):
            Circle(SKETCH_1_R, mode=Mode.SUBTRACT)
        with Locations(Location((0, 33.8, 0), (0, 0, 270))):
            Circle(SKETCH_1_R, mode=Mode.SUBTRACT)
        with Locations(Location((0, -33.8, 0), (0, 0, 90))):
            Circle(SKETCH_1_R, mode=Mode.SUBTRACT)
        with Locations(Location((43.5, 41, 0), (0, 0, 270))):
            Circle(SKETCH_1_R_2, mode=Mode.SUBTRACT)
        with Locations(Location((15.5, 41, 0), (0, 0, 90))):
            Circle(SKETCH_1_R_2, mode=Mode.SUBTRACT)
        with Locations(Location((43.5, -41, 0), (0, 0, 90))):
            Circle(SKETCH_1_R_2, mode=Mode.SUBTRACT)
        with Locations(Location((15.5, -41, 0), (0, 0, 270))):
            Circle(SKETCH_1_R_2, mode=Mode.SUBTRACT)
        with Locations(Location((-15.5, -41, 0), (0, 0, 90))):
            Circle(SKETCH_1_R_2, mode=Mode.SUBTRACT)
        with Locations(Location((-43.5, -41, 0), (0, 0, 270))):
            Circle(SKETCH_1_R_2, mode=Mode.SUBTRACT)
        with Locations(Location((-43.5, 41, 0), (0, 0, 90))):
            Circle(SKETCH_1_R_2, mode=Mode.SUBTRACT)
        with Locations(Location((-15.5, 41, 0), (0, 0, 270))):
            Circle(SKETCH_1_R_2, mode=Mode.SUBTRACT)
    extrude(amount=-EXTRUDE_1_DEPTH)

    # 草图2 → 切除-拉伸1 (cut)
    with BuildSketch(Plane.XZ.offset(9.6).offset(CUT_EXTRUDE_START)):
        with BuildLine():
            Line((63.557901373, 31), (5, 31))
            ThreePointArc((5, 31), (3.585786438, 31.585786438), (3, 33))
            Line((3, 33), (3, 33.8))
            ThreePointArc((3, 33.8), (0, 36.8), (-3, 33.8))
            Line((-3, 33.8), (-3, 33))
            ThreePointArc((-3, 33), (-3.585786438, 31.585786438), (-5, 31))
            Line((-5, 31), (-73.010332056, 31))
            Line((-73.010332056, 31), (-73.010332056, 53.694218021))
            Line((-73.010332056, 53.694218021), (63.557901373, 53.694218021))
            Line((63.557901373, 53.694218021), (63.557901373, 31))
        make_face()
        with BuildLine():
            Line((63.557901373, -31), (63.557901373, -53.694218021))
            Line((63.557901373, -53.694218021), (-73.010332056, -53.694218021))
            Line((-73.010332056, -53.694218021), (-73.010332056, -31))
            Line((-73.010332056, -31), (-5, -31))
            ThreePointArc((-5, -31), (-3.585786438, -31.585786438), (-3, -33))
            Line((-3, -33), (-3, -33.8))
            ThreePointArc((-3, -33.8), (0, -36.8), (3, -33.8))
            Line((3, -33.8), (3, -33))
            ThreePointArc((3, -33), (3.585786438, -31.585786438), (5, -31))
            Line((5, -31), (63.557901373, -31))
        make_face()
    extrude(amount=CUT_EXTRUDE_1_DEPTH, mode=Mode.SUBTRACT)

    # 草图3 → 切除-拉伸2 (cut)
    with BuildSketch(Plane.XZ.offset(9.6)):
        Rectangle(SKETCH_3_W, SKETCH_3_H)
    extrude(amount=-CUT_EXTRUDE_2_DEPTH, mode=Mode.SUBTRACT)

    # 圆角1
    fillet_1_edges = [part.edges().sort_by_distance(p)[0] for p in [
        (45, -6.05, 28.5),
        (45, -6.05, -28.5),
        (-45, -6.05, -28.5),
        (-45, -6.05, 28.5),
    ]]
    fillet(fillet_1_edges, radius=FILLET_1_R)

    # 圆角2
    fillet_2_edges = [part.edges().sort_by_distance(p)[0] for p in [
        (0, -2.5, -28.5),
        (-45, -2.5, 0),
        (45, -2.5, 0),
        (0, -2.5, 28.5),
        (44.121320344, -2.5, 27.621320344),
        (44.121320344, -2.5, -27.621320344),
        (-44.121320344, -2.5, 27.621320344),
        (-44.121320344, -2.5, -27.621320344),
    ]]
    fillet(fillet_2_edges, radius=FILLET_2_R)

    # 草图13 → 切除-拉伸3 (cut, through all)
    with BuildSketch(Plane.XZ.offset(2.5)):
        with Locations((-33, 18)):
            Rectangle(SKETCH_13_W, SKETCH_13_H)
        with Locations((-16.6, 18)):
            Rectangle(SKETCH_13_W, SKETCH_13_H)
        with Locations((-0.2, 18)):
            Rectangle(SKETCH_13_W, SKETCH_13_H)
        with Locations((16.2, 18)):
            Rectangle(SKETCH_13_W, SKETCH_13_H)
        with Locations((32.6, 18)):
            Rectangle(SKETCH_13_W, SKETCH_13_H)
        with Locations((-16.6, 0)):
            Rectangle(SKETCH_13_W, SKETCH_13_H)
        with Locations((-0.2, 0)):
            Rectangle(SKETCH_13_W, SKETCH_13_H)
        with Locations((16.2, 0)):
            Rectangle(SKETCH_13_W, SKETCH_13_H)
        with Locations((32.6, 0)):
            Rectangle(SKETCH_13_W, SKETCH_13_H)
        with Locations((-16.6, -18)):
            Rectangle(SKETCH_13_W, SKETCH_13_H)
        with Locations((-0.2, -18)):
            Rectangle(SKETCH_13_W, SKETCH_13_H)
        with Locations((16.2, -18)):
            Rectangle(SKETCH_13_W, SKETCH_13_H)
        with Locations((32.6, -18)):
            Rectangle(SKETCH_13_W, SKETCH_13_H)
        with Locations((-33, 0)):
            Rectangle(SKETCH_13_W, SKETCH_13_H)
        with Locations((-33, -18)):
            Rectangle(SKETCH_13_W, SKETCH_13_H)
    extrude(amount=-CUT_EXTRUDE_3_DEPTH, mode=Mode.SUBTRACT)


solid = part.part
